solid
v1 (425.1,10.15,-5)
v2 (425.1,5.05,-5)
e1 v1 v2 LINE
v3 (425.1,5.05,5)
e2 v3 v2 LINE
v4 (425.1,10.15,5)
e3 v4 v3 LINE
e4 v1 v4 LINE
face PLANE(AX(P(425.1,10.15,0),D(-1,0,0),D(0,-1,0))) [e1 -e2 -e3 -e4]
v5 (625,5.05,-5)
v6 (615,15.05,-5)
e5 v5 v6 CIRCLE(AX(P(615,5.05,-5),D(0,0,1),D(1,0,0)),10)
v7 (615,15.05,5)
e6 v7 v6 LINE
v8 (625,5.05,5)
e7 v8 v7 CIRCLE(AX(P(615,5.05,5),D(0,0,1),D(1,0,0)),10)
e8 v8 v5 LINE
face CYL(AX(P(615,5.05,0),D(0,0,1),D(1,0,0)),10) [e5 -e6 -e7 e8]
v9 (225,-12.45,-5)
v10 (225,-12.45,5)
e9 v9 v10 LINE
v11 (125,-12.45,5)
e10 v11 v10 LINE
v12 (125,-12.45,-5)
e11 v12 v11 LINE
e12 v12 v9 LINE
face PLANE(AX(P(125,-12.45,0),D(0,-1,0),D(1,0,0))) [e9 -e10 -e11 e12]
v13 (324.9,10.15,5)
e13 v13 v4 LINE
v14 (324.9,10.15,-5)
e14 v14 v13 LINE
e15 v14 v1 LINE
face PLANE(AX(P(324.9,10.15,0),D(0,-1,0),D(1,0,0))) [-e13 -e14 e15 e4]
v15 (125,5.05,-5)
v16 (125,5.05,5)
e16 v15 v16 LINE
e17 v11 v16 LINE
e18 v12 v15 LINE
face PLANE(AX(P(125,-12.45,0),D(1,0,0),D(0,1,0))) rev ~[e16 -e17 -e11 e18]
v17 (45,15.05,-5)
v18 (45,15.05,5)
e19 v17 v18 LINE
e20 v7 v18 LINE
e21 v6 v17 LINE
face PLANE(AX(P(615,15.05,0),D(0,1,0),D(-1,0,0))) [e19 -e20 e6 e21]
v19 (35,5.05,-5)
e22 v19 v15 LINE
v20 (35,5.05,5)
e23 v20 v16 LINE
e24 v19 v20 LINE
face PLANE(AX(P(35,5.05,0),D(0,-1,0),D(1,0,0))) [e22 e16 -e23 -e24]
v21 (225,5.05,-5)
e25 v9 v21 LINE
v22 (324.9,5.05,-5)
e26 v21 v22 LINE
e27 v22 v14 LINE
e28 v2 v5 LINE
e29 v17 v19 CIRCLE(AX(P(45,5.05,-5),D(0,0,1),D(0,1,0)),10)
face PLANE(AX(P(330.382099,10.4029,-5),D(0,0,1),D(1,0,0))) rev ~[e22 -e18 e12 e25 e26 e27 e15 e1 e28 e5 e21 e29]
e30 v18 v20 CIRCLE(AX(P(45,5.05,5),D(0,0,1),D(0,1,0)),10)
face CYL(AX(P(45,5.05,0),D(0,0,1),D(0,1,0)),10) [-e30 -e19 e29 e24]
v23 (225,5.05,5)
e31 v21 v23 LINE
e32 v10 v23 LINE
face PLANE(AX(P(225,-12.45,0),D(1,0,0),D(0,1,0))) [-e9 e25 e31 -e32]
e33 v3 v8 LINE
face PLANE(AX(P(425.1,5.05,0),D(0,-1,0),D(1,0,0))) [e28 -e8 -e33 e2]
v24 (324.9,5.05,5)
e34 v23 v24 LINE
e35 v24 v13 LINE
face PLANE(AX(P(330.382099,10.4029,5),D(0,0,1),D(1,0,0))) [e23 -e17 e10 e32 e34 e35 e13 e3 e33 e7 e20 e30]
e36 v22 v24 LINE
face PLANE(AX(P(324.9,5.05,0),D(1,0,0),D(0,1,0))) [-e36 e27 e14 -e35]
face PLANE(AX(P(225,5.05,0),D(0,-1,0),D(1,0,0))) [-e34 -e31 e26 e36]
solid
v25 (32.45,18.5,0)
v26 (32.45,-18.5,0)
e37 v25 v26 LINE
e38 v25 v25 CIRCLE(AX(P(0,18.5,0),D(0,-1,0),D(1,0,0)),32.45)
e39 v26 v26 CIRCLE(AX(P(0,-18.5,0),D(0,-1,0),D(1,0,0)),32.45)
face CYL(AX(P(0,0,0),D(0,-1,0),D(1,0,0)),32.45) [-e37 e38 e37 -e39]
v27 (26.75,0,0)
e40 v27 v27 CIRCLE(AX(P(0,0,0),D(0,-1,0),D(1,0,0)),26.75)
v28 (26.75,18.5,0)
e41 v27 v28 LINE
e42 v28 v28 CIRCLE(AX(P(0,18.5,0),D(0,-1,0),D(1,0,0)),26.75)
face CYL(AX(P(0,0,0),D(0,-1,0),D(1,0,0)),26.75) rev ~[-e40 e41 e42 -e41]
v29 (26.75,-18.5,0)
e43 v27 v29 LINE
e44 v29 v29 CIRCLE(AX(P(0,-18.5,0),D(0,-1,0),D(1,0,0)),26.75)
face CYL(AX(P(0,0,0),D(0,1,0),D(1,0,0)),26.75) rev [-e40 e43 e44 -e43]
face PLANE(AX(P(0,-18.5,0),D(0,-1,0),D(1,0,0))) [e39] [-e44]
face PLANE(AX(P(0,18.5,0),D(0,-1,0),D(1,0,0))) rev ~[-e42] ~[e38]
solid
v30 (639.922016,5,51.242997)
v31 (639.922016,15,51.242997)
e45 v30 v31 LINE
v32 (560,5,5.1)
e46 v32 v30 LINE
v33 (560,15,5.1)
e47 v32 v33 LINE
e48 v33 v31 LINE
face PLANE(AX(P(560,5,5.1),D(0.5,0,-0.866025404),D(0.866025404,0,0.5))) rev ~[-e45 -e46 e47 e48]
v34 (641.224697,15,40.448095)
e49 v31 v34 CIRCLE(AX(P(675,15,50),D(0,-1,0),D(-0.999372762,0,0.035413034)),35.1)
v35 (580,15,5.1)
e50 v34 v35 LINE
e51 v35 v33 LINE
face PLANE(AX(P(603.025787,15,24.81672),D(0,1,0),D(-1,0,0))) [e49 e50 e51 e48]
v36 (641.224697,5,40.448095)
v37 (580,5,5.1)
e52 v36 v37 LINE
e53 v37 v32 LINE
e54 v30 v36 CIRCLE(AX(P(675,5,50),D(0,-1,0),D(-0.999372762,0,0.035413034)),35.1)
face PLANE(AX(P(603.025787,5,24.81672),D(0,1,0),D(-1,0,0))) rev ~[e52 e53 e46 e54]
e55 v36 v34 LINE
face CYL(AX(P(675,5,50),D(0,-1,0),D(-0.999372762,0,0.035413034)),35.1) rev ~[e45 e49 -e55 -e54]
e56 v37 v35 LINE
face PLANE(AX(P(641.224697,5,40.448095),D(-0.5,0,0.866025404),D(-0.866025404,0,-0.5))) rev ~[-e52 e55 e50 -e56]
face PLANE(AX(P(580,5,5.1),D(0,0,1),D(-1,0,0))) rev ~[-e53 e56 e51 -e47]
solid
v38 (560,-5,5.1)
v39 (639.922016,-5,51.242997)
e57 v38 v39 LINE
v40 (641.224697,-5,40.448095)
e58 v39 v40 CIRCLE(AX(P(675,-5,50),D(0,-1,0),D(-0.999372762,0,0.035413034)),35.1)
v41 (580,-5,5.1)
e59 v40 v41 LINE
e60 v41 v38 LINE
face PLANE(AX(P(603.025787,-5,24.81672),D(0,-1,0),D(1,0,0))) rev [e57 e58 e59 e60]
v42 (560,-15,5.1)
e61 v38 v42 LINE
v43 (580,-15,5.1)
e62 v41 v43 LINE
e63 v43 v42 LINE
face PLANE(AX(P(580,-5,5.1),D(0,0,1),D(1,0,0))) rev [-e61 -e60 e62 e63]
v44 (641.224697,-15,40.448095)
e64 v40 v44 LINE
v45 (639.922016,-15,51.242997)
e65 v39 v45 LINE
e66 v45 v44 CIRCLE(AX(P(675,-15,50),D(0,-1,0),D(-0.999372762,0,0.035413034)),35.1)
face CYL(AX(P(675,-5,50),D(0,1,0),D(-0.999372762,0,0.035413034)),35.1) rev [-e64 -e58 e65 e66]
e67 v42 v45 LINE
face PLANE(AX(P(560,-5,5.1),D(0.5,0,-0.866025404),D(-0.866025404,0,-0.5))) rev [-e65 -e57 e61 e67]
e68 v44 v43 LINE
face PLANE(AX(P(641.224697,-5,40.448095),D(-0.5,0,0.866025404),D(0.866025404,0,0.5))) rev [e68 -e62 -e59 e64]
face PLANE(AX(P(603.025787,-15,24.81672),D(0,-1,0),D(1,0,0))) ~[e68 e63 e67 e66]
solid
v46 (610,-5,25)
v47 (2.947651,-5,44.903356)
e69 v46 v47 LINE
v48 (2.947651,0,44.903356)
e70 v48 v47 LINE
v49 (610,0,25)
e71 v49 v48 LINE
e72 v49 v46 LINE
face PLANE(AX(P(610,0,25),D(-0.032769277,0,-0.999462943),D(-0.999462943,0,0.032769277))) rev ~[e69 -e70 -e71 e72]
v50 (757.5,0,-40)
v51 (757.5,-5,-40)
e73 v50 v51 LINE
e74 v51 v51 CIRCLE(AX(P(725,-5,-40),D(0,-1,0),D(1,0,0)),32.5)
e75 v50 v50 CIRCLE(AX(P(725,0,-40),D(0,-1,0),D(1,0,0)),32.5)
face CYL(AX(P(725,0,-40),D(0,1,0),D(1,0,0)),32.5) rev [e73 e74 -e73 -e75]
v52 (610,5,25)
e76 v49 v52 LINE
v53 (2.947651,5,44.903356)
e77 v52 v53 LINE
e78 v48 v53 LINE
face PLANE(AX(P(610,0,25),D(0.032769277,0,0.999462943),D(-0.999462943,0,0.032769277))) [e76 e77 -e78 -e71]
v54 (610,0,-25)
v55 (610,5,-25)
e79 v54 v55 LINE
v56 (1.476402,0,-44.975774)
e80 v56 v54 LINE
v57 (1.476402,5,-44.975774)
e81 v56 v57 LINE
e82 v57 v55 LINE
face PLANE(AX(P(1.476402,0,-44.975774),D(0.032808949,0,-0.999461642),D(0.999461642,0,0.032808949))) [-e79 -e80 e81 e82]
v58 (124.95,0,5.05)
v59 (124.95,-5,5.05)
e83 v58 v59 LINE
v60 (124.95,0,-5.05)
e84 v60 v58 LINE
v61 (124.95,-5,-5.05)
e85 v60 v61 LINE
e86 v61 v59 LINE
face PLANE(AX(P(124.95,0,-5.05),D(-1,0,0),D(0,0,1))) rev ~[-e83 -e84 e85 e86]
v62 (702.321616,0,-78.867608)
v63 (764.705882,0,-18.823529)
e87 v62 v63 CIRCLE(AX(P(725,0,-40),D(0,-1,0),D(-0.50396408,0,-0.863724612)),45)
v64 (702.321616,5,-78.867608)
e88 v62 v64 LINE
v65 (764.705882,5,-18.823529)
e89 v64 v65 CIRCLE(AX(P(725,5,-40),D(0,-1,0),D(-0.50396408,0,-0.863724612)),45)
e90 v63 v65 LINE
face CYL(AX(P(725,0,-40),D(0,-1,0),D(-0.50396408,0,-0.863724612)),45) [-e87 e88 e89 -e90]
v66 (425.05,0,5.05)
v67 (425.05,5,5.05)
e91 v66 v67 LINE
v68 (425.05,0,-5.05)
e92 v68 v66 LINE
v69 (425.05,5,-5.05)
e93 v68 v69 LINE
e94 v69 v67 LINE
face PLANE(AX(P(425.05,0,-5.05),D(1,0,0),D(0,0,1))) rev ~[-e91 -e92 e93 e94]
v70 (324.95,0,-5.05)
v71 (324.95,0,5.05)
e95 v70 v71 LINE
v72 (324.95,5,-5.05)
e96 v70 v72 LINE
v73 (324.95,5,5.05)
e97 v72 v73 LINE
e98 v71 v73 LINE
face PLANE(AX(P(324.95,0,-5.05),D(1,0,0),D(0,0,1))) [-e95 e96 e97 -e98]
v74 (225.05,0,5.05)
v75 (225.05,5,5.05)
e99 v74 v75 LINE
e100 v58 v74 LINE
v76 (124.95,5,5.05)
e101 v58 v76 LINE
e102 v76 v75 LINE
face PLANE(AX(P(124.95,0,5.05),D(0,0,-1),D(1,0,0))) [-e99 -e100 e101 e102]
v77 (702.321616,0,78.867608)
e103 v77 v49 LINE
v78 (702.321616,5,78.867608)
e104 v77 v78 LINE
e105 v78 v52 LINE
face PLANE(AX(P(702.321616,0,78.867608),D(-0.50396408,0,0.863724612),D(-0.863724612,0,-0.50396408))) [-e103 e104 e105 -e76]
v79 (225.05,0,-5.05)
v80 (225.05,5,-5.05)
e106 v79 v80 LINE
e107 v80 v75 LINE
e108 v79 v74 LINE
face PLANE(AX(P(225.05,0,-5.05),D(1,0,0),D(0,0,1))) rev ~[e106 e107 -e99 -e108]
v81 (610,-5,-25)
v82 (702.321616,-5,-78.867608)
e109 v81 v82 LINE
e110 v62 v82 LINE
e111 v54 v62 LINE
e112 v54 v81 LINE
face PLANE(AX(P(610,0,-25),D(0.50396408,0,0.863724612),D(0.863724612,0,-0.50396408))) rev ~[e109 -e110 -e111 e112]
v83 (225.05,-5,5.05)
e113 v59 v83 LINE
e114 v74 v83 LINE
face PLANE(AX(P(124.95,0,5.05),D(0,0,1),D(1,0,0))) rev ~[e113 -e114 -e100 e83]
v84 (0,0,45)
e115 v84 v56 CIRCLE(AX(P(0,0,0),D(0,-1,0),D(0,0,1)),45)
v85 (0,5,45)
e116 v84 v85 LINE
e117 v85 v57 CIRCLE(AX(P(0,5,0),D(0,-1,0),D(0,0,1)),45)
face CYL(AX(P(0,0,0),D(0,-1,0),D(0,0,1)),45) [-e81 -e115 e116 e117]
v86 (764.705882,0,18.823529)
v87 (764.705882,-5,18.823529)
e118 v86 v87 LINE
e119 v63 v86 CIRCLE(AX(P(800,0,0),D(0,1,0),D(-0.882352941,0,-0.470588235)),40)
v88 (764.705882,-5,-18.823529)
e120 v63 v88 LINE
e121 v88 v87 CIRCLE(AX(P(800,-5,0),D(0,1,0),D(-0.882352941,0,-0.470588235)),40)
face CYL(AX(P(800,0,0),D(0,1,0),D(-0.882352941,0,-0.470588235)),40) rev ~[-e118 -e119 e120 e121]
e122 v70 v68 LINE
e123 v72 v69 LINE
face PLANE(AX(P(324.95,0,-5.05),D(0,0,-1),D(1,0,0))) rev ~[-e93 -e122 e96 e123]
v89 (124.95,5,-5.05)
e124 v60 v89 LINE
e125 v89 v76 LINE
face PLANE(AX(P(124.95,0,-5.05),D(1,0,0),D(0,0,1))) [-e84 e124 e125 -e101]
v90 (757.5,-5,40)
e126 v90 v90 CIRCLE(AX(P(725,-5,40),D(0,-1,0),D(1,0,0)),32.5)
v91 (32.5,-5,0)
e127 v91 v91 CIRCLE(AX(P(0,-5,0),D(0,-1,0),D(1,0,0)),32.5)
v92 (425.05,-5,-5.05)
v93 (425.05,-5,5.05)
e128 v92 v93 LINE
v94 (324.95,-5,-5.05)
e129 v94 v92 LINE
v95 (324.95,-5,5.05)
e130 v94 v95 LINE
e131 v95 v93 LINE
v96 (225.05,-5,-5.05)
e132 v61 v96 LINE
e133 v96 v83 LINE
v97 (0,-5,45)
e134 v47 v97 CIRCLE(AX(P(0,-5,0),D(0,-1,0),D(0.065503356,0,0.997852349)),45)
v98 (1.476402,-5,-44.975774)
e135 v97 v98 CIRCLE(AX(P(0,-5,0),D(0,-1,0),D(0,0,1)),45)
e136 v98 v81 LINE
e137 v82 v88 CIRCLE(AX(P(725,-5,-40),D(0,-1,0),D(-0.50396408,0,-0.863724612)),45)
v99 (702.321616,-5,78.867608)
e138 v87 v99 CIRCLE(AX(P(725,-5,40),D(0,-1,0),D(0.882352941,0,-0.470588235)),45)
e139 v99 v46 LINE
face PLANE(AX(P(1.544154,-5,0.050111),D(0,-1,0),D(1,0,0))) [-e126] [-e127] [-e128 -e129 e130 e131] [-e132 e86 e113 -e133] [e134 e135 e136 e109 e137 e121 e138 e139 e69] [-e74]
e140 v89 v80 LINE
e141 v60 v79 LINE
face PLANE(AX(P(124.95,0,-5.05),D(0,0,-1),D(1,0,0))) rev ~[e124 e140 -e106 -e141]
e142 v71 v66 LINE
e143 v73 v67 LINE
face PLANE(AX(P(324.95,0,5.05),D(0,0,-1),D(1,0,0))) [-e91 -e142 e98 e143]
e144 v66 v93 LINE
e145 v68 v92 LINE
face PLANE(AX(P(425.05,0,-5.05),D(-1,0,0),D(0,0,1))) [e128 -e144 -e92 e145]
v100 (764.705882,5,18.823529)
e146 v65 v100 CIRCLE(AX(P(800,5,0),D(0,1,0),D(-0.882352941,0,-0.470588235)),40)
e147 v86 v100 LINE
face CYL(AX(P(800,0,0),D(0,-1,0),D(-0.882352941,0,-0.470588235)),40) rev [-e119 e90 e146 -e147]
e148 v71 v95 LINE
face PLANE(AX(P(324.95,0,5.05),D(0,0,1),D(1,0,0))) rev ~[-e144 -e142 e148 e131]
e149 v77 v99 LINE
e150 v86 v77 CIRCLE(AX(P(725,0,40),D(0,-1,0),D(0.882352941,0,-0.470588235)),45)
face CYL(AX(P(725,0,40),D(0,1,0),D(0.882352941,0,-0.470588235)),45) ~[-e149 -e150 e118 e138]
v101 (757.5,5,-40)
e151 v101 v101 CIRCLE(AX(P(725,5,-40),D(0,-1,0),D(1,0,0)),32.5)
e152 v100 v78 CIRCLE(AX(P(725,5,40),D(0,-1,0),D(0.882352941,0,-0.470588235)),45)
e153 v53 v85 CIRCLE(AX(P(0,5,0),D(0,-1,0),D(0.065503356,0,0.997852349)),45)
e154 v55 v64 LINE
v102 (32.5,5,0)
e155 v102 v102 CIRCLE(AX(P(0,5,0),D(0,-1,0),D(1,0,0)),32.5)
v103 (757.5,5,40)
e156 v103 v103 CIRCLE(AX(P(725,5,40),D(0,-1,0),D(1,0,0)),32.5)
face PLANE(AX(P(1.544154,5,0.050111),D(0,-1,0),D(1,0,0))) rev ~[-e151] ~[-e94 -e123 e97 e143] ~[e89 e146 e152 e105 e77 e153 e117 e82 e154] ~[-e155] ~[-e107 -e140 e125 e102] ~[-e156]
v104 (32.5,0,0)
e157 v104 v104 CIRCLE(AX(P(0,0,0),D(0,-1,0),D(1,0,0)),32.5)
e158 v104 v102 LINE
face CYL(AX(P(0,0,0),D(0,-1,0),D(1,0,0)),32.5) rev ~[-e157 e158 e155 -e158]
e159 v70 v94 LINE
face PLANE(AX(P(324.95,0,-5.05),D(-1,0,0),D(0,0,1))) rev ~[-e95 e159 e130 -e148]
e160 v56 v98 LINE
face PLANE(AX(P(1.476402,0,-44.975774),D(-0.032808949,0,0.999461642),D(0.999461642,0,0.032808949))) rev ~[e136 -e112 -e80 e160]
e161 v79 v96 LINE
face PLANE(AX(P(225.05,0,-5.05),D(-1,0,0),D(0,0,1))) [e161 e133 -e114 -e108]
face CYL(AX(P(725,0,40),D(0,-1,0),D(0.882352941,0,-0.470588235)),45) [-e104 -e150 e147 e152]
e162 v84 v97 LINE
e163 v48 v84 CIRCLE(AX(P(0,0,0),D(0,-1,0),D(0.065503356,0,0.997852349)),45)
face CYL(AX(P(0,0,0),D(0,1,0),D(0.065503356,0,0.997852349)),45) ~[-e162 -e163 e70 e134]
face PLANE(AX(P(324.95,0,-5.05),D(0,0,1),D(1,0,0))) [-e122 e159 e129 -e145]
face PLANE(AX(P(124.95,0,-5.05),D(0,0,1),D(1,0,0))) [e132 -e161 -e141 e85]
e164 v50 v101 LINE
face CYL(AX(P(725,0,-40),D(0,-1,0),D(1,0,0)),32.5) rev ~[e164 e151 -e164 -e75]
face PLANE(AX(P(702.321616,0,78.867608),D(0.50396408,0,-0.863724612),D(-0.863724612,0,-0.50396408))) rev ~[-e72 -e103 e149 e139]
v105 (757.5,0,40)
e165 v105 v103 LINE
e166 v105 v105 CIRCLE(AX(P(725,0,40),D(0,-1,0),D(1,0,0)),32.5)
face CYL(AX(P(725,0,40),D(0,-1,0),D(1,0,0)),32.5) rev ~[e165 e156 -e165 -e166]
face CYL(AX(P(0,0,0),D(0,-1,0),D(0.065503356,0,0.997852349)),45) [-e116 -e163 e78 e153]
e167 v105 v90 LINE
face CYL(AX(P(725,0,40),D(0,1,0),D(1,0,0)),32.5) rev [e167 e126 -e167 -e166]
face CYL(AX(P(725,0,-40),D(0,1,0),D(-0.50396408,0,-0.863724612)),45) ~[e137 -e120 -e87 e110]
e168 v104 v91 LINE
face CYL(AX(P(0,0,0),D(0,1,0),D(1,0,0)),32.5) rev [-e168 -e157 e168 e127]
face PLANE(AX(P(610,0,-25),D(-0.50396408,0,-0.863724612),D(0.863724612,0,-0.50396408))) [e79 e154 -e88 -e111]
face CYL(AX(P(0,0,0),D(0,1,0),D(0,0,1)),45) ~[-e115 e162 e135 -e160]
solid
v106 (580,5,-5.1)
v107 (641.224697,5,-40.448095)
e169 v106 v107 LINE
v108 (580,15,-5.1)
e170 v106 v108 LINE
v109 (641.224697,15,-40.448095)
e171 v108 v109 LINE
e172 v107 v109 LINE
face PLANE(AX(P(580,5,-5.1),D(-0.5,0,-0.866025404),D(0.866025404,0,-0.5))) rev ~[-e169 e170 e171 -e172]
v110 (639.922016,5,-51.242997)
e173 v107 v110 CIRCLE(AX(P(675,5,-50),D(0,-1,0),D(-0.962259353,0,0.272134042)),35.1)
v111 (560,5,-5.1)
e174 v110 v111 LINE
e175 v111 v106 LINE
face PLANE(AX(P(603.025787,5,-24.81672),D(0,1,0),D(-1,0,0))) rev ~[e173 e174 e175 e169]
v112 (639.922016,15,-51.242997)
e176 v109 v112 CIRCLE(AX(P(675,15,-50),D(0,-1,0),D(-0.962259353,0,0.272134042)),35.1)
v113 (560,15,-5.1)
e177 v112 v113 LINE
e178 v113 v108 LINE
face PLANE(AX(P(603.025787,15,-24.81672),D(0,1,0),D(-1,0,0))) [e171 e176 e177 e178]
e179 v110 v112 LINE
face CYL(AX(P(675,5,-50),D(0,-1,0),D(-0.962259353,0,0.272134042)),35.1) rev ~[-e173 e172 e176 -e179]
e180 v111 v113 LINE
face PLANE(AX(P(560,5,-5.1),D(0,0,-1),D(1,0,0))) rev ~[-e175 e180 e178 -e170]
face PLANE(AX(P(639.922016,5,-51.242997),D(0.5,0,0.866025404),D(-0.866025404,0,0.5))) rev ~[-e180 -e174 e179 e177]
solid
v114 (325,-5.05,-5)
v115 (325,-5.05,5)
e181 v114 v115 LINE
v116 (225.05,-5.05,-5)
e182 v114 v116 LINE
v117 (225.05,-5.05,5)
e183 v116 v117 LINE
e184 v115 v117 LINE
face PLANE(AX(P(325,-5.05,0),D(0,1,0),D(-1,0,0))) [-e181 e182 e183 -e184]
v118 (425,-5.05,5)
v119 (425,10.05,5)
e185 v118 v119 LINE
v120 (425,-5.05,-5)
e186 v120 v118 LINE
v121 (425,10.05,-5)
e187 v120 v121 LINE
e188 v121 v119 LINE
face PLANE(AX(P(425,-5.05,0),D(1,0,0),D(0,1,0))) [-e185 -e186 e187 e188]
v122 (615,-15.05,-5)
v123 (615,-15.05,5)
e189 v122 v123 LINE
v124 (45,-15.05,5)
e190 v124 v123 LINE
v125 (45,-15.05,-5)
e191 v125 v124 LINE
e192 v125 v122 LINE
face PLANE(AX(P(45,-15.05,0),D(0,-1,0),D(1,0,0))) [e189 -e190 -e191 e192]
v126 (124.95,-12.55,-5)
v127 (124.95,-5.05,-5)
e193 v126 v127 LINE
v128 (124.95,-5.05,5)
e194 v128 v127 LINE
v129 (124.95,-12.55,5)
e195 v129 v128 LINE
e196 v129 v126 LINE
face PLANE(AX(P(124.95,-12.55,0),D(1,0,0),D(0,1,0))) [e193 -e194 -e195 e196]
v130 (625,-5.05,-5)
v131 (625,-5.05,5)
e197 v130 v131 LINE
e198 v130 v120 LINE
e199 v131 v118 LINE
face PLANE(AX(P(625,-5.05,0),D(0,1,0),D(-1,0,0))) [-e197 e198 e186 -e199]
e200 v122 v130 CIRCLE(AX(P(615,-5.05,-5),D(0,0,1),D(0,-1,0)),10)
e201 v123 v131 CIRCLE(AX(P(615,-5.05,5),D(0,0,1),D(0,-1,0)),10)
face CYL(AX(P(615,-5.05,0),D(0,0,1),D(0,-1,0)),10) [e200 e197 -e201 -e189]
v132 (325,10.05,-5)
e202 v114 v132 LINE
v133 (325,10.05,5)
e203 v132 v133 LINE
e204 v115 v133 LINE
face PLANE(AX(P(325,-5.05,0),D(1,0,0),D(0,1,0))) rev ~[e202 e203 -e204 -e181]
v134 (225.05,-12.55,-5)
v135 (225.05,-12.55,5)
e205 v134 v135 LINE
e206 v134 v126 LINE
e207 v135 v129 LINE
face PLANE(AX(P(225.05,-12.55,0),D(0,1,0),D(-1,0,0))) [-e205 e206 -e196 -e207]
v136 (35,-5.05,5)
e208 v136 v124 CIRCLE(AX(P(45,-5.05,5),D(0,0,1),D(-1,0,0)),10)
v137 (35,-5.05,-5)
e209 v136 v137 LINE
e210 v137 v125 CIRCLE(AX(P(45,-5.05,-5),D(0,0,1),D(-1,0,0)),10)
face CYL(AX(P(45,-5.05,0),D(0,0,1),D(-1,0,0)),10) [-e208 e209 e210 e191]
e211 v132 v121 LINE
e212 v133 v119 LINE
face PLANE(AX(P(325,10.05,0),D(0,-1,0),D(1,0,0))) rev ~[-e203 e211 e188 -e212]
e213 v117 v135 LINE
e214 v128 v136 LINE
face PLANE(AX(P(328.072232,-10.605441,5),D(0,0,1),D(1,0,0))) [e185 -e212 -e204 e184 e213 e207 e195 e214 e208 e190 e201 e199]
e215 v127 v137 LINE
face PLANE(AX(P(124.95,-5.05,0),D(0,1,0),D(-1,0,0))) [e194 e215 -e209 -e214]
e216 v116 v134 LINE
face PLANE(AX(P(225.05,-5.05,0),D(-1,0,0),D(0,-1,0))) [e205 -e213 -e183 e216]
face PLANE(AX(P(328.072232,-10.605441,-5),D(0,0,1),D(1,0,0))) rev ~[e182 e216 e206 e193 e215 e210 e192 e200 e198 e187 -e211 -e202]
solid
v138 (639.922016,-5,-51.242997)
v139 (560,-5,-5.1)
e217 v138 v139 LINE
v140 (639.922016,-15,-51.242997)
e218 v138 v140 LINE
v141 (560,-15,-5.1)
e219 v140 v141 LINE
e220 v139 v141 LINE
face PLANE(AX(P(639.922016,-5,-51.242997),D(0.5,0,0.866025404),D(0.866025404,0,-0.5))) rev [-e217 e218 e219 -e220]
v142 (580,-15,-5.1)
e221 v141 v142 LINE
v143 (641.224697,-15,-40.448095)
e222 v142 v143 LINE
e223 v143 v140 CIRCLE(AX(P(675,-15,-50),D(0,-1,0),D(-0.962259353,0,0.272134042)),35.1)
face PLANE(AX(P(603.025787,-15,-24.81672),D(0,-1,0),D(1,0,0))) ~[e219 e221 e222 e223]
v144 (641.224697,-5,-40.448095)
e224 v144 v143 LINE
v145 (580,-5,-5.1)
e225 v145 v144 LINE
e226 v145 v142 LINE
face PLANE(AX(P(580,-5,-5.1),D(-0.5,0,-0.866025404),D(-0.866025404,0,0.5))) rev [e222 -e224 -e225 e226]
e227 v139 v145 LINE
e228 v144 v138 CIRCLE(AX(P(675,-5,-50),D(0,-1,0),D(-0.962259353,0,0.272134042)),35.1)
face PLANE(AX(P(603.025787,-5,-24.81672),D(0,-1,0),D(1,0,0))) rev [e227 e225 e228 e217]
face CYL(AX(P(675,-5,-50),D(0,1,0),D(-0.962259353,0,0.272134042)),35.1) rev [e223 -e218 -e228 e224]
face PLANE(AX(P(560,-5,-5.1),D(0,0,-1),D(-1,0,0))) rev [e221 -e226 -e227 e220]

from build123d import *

# Parameters (mm, degrees)
F0_R          = 32.5
F0_W          = 100.1
F0_H          = 10.1
F1_DEPTH      = 5
F1_DEPTH_BACK = 5
F2_W          = 100
F2_H          = 17.5
F3_DEPTH      = 5
F3_DEPTH_BACK = 5
F2_H_2        = 15.1
F5_DEPTH      = 10
F7_R          = 32.45
F7_R_2        = 26.75
F8_DEPTH      = 18.5
F8_DEPTH_BACK = 18.5


with BuildPart() as f1:
    # F0 (on Front) → F1 (new body, two sides)
    with BuildSketch(Plane.XZ) as f1_sk:
        with BuildLine():
            ThreePointArc((1.4764017016, -44.9757739012), (32.3375793511, -31.2934651599), (45, 0))
            ThreePointArc((45, 0), (32.8454281088, 30.7600041019), (2.9476510067, 44.9033557047))
            Line((2.9476510067, 44.9033557047), (0, 45))
            ThreePointArc((0, 45), (-44.9939430677, -0.7383002249), (1.4764017016, -44.9757739012))
        make_face()
        Circle(F0_R, mode=Mode.SUBTRACT)
        with BuildLine():
            ThreePointArc((2.9476510067, 44.9033557047), (32.8454281088, 30.7600041019), (45, 0))
            ThreePointArc((45, 0), (32.3375793511, -31.2934651599), (1.4764017016, -44.9757739012))
            Line((1.4764017016, -44.9757739012), (610, -25))
            Line((610, -25), (702.3216164051, -78.8676075611))
            ThreePointArc((702.3216164051, -78.8676075611), (756.2058769896, -72.4221103772), (764.7058823529, -18.8235294118))
            ThreePointArc((764.7058823529, -18.8235294118), (760, 0), (764.7058823529, 18.8235294118))
            ThreePointArc((764.7058823529, 18.8235294118), (693.7941230104, 7.5778896228), (702.3216164051, 78.8676075611))
            Line((702.3216164051, 78.8676075611), (610, 25))
            Line((610, 25), (2.9476510067, 44.9033557047))
        make_face()
        with Locations((725, -40)):
            Circle(F0_R, mode=Mode.SUBTRACT)
        with Locations((175, 0)):
            Rectangle(F0_W, F0_H, mode=Mode.SUBTRACT)
        with Locations((375, 0)):
            Rectangle(F0_W, F0_H, mode=Mode.SUBTRACT)
        with BuildLine():
            Line((0, 45), (2.9476510067, 44.9033557047))
            ThreePointArc((2.9476510067, 44.9033557047), (1.4746174569, 44.9758324365), (0, 45))
        make_face()
        with BuildLine():
            ThreePointArc((770, 40), (747.4106307166, 79.0226041018), (702.3216164051, 78.8676075611))
            ThreePointArc((702.3216164051, 78.8676075611), (693.7941230104, 7.5778896228), (764.7058823529, 18.8235294118))
            ThreePointArc((764.7058823529, 18.8235294118), (768.6564125065, 29.0858968734), (770, 40))
        make_face()
        with Locations((725, 40)):
            Circle(F0_R, mode=Mode.SUBTRACT)
    extrude(amount=F1_DEPTH)
    extrude(f1_sk.sketch, amount=-F1_DEPTH_BACK)


with BuildPart() as f3:
    # F2 (on Top) → F3 (new body, two sides)
    with BuildSketch(Plane.XY) as f3_sk:
        with BuildLine():
            Line((615, 15.05), (45, 15.05))
            ThreePointArc((45, 15.05), (37.9289321881, 12.1210678119), (35, 5.05))
            Line((35, 5.05), (125, 5.05))
            Line((125, 5.05), (225, 5.05))
            Line((225, 5.05), (324.9, 5.05))
            Line((324.9, 5.05), (324.9, 10.15))
            Line((324.9, 10.15), (425.1, 10.15))
            Line((425.1, 10.15), (425.1, 5.05))
            Line((425.1, 5.05), (625, 5.05))
            ThreePointArc((625, 5.05), (622.0710678119, 12.1210678119), (615, 15.05))
        make_face()
        with Locations((175, -3.7)):
            Rectangle(F2_W, F2_H)
    extrude(amount=F3_DEPTH)
    extrude(f3_sk.sketch, amount=-F3_DEPTH_BACK)


with BuildPart() as f3b:
    # F2 (on Top) → F3, piece 2 (new body, two sides)
    with BuildSketch(Plane.XY) as f3_2_sk:
        with BuildLine():
            ThreePointArc((35, -5.05), (37.9289321881, -12.1210678119), (45, -15.05))
            Line((45, -15.05), (615, -15.05))
            ThreePointArc((615, -15.05), (622.0710678119, -12.1210678119), (625, -5.05))
            Line((625, -5.05), (425, -5.05))
            Line((425, -5.05), (325, -5.05))
            Line((325, -5.05), (225.05, -5.05))
            Line((225.05, -5.05), (225.05, -12.55))
            Line((225.05, -12.55), (124.95, -12.55))
            Line((124.95, -12.55), (124.95, -5.05))
            Line((124.95, -5.05), (35, -5.05))
        make_face()
        with Locations((375, 2.5)):
            Rectangle(F2_W, F2_H_2)
    extrude(amount=F3_DEPTH)
    extrude(f3_2_sk.sketch, amount=-F3_DEPTH_BACK)


with BuildPart() as f5:
    # F4 (on face) → F5 (new body)
    with BuildSketch(Plane(origin=(0, 5, 0), x_dir=(-1, 0, 0), z_dir=(0, 1, 0))):
        with BuildLine():
            Line((-580, -5.1), (-641.2246966978, -40.4480951195))
            ThreePointArc((-641.2246966978, -40.4480951195), (-640.1528154614, -45.7947973022), (-639.9220160607, -51.2429974868))
            Line((-639.9220160607, -51.2429974868), (-560, -5.1))
            Line((-560, -5.1), (-580, -5.1))
        make_face()
    extrude(amount=F5_DEPTH)


with BuildPart() as f5b:
    # F4 (on face) → F5, piece 2 (new body)
    with BuildSketch(Plane(origin=(0, 5, 0), x_dir=(-1, 0, 0), z_dir=(0, 1, 0))):
        with BuildLine():
            Line((-641.2246966978, 40.4480951195), (-580, 5.1))
            Line((-580, 5.1), (-560, 5.1))
            Line((-560, 5.1), (-639.9220160607, 51.2429974868))
            ThreePointArc((-639.9220160607, 51.2429974868), (-640.1528154614, 45.7947973022), (-641.2246966978, 40.4480951195))
        make_face()
    extrude(amount=F5_DEPTH)


with BuildPart() as f6_1:
    # F6: instance of F5b
    add(f5b.part.mirror(Plane.XZ))


with BuildPart() as f6_2:
    # F6: instance of F5
    add(f5.part.mirror(Plane.XZ))


with BuildPart() as f8:
    # F7 (on Front) → F8 (new body, two sides)
    with BuildSketch(Plane.XZ) as f8_sk:
        Circle(F7_R)
        Circle(F7_R_2, mode=Mode.SUBTRACT)
    extrude(amount=F8_DEPTH)
    extrude(f8_sk.sketch, amount=-F8_DEPTH_BACK)


solid = Compound([f1.part, f3.part, f3b.part, f5.part, f5b.part, f6_1.part, f6_2.part, f8.part])
